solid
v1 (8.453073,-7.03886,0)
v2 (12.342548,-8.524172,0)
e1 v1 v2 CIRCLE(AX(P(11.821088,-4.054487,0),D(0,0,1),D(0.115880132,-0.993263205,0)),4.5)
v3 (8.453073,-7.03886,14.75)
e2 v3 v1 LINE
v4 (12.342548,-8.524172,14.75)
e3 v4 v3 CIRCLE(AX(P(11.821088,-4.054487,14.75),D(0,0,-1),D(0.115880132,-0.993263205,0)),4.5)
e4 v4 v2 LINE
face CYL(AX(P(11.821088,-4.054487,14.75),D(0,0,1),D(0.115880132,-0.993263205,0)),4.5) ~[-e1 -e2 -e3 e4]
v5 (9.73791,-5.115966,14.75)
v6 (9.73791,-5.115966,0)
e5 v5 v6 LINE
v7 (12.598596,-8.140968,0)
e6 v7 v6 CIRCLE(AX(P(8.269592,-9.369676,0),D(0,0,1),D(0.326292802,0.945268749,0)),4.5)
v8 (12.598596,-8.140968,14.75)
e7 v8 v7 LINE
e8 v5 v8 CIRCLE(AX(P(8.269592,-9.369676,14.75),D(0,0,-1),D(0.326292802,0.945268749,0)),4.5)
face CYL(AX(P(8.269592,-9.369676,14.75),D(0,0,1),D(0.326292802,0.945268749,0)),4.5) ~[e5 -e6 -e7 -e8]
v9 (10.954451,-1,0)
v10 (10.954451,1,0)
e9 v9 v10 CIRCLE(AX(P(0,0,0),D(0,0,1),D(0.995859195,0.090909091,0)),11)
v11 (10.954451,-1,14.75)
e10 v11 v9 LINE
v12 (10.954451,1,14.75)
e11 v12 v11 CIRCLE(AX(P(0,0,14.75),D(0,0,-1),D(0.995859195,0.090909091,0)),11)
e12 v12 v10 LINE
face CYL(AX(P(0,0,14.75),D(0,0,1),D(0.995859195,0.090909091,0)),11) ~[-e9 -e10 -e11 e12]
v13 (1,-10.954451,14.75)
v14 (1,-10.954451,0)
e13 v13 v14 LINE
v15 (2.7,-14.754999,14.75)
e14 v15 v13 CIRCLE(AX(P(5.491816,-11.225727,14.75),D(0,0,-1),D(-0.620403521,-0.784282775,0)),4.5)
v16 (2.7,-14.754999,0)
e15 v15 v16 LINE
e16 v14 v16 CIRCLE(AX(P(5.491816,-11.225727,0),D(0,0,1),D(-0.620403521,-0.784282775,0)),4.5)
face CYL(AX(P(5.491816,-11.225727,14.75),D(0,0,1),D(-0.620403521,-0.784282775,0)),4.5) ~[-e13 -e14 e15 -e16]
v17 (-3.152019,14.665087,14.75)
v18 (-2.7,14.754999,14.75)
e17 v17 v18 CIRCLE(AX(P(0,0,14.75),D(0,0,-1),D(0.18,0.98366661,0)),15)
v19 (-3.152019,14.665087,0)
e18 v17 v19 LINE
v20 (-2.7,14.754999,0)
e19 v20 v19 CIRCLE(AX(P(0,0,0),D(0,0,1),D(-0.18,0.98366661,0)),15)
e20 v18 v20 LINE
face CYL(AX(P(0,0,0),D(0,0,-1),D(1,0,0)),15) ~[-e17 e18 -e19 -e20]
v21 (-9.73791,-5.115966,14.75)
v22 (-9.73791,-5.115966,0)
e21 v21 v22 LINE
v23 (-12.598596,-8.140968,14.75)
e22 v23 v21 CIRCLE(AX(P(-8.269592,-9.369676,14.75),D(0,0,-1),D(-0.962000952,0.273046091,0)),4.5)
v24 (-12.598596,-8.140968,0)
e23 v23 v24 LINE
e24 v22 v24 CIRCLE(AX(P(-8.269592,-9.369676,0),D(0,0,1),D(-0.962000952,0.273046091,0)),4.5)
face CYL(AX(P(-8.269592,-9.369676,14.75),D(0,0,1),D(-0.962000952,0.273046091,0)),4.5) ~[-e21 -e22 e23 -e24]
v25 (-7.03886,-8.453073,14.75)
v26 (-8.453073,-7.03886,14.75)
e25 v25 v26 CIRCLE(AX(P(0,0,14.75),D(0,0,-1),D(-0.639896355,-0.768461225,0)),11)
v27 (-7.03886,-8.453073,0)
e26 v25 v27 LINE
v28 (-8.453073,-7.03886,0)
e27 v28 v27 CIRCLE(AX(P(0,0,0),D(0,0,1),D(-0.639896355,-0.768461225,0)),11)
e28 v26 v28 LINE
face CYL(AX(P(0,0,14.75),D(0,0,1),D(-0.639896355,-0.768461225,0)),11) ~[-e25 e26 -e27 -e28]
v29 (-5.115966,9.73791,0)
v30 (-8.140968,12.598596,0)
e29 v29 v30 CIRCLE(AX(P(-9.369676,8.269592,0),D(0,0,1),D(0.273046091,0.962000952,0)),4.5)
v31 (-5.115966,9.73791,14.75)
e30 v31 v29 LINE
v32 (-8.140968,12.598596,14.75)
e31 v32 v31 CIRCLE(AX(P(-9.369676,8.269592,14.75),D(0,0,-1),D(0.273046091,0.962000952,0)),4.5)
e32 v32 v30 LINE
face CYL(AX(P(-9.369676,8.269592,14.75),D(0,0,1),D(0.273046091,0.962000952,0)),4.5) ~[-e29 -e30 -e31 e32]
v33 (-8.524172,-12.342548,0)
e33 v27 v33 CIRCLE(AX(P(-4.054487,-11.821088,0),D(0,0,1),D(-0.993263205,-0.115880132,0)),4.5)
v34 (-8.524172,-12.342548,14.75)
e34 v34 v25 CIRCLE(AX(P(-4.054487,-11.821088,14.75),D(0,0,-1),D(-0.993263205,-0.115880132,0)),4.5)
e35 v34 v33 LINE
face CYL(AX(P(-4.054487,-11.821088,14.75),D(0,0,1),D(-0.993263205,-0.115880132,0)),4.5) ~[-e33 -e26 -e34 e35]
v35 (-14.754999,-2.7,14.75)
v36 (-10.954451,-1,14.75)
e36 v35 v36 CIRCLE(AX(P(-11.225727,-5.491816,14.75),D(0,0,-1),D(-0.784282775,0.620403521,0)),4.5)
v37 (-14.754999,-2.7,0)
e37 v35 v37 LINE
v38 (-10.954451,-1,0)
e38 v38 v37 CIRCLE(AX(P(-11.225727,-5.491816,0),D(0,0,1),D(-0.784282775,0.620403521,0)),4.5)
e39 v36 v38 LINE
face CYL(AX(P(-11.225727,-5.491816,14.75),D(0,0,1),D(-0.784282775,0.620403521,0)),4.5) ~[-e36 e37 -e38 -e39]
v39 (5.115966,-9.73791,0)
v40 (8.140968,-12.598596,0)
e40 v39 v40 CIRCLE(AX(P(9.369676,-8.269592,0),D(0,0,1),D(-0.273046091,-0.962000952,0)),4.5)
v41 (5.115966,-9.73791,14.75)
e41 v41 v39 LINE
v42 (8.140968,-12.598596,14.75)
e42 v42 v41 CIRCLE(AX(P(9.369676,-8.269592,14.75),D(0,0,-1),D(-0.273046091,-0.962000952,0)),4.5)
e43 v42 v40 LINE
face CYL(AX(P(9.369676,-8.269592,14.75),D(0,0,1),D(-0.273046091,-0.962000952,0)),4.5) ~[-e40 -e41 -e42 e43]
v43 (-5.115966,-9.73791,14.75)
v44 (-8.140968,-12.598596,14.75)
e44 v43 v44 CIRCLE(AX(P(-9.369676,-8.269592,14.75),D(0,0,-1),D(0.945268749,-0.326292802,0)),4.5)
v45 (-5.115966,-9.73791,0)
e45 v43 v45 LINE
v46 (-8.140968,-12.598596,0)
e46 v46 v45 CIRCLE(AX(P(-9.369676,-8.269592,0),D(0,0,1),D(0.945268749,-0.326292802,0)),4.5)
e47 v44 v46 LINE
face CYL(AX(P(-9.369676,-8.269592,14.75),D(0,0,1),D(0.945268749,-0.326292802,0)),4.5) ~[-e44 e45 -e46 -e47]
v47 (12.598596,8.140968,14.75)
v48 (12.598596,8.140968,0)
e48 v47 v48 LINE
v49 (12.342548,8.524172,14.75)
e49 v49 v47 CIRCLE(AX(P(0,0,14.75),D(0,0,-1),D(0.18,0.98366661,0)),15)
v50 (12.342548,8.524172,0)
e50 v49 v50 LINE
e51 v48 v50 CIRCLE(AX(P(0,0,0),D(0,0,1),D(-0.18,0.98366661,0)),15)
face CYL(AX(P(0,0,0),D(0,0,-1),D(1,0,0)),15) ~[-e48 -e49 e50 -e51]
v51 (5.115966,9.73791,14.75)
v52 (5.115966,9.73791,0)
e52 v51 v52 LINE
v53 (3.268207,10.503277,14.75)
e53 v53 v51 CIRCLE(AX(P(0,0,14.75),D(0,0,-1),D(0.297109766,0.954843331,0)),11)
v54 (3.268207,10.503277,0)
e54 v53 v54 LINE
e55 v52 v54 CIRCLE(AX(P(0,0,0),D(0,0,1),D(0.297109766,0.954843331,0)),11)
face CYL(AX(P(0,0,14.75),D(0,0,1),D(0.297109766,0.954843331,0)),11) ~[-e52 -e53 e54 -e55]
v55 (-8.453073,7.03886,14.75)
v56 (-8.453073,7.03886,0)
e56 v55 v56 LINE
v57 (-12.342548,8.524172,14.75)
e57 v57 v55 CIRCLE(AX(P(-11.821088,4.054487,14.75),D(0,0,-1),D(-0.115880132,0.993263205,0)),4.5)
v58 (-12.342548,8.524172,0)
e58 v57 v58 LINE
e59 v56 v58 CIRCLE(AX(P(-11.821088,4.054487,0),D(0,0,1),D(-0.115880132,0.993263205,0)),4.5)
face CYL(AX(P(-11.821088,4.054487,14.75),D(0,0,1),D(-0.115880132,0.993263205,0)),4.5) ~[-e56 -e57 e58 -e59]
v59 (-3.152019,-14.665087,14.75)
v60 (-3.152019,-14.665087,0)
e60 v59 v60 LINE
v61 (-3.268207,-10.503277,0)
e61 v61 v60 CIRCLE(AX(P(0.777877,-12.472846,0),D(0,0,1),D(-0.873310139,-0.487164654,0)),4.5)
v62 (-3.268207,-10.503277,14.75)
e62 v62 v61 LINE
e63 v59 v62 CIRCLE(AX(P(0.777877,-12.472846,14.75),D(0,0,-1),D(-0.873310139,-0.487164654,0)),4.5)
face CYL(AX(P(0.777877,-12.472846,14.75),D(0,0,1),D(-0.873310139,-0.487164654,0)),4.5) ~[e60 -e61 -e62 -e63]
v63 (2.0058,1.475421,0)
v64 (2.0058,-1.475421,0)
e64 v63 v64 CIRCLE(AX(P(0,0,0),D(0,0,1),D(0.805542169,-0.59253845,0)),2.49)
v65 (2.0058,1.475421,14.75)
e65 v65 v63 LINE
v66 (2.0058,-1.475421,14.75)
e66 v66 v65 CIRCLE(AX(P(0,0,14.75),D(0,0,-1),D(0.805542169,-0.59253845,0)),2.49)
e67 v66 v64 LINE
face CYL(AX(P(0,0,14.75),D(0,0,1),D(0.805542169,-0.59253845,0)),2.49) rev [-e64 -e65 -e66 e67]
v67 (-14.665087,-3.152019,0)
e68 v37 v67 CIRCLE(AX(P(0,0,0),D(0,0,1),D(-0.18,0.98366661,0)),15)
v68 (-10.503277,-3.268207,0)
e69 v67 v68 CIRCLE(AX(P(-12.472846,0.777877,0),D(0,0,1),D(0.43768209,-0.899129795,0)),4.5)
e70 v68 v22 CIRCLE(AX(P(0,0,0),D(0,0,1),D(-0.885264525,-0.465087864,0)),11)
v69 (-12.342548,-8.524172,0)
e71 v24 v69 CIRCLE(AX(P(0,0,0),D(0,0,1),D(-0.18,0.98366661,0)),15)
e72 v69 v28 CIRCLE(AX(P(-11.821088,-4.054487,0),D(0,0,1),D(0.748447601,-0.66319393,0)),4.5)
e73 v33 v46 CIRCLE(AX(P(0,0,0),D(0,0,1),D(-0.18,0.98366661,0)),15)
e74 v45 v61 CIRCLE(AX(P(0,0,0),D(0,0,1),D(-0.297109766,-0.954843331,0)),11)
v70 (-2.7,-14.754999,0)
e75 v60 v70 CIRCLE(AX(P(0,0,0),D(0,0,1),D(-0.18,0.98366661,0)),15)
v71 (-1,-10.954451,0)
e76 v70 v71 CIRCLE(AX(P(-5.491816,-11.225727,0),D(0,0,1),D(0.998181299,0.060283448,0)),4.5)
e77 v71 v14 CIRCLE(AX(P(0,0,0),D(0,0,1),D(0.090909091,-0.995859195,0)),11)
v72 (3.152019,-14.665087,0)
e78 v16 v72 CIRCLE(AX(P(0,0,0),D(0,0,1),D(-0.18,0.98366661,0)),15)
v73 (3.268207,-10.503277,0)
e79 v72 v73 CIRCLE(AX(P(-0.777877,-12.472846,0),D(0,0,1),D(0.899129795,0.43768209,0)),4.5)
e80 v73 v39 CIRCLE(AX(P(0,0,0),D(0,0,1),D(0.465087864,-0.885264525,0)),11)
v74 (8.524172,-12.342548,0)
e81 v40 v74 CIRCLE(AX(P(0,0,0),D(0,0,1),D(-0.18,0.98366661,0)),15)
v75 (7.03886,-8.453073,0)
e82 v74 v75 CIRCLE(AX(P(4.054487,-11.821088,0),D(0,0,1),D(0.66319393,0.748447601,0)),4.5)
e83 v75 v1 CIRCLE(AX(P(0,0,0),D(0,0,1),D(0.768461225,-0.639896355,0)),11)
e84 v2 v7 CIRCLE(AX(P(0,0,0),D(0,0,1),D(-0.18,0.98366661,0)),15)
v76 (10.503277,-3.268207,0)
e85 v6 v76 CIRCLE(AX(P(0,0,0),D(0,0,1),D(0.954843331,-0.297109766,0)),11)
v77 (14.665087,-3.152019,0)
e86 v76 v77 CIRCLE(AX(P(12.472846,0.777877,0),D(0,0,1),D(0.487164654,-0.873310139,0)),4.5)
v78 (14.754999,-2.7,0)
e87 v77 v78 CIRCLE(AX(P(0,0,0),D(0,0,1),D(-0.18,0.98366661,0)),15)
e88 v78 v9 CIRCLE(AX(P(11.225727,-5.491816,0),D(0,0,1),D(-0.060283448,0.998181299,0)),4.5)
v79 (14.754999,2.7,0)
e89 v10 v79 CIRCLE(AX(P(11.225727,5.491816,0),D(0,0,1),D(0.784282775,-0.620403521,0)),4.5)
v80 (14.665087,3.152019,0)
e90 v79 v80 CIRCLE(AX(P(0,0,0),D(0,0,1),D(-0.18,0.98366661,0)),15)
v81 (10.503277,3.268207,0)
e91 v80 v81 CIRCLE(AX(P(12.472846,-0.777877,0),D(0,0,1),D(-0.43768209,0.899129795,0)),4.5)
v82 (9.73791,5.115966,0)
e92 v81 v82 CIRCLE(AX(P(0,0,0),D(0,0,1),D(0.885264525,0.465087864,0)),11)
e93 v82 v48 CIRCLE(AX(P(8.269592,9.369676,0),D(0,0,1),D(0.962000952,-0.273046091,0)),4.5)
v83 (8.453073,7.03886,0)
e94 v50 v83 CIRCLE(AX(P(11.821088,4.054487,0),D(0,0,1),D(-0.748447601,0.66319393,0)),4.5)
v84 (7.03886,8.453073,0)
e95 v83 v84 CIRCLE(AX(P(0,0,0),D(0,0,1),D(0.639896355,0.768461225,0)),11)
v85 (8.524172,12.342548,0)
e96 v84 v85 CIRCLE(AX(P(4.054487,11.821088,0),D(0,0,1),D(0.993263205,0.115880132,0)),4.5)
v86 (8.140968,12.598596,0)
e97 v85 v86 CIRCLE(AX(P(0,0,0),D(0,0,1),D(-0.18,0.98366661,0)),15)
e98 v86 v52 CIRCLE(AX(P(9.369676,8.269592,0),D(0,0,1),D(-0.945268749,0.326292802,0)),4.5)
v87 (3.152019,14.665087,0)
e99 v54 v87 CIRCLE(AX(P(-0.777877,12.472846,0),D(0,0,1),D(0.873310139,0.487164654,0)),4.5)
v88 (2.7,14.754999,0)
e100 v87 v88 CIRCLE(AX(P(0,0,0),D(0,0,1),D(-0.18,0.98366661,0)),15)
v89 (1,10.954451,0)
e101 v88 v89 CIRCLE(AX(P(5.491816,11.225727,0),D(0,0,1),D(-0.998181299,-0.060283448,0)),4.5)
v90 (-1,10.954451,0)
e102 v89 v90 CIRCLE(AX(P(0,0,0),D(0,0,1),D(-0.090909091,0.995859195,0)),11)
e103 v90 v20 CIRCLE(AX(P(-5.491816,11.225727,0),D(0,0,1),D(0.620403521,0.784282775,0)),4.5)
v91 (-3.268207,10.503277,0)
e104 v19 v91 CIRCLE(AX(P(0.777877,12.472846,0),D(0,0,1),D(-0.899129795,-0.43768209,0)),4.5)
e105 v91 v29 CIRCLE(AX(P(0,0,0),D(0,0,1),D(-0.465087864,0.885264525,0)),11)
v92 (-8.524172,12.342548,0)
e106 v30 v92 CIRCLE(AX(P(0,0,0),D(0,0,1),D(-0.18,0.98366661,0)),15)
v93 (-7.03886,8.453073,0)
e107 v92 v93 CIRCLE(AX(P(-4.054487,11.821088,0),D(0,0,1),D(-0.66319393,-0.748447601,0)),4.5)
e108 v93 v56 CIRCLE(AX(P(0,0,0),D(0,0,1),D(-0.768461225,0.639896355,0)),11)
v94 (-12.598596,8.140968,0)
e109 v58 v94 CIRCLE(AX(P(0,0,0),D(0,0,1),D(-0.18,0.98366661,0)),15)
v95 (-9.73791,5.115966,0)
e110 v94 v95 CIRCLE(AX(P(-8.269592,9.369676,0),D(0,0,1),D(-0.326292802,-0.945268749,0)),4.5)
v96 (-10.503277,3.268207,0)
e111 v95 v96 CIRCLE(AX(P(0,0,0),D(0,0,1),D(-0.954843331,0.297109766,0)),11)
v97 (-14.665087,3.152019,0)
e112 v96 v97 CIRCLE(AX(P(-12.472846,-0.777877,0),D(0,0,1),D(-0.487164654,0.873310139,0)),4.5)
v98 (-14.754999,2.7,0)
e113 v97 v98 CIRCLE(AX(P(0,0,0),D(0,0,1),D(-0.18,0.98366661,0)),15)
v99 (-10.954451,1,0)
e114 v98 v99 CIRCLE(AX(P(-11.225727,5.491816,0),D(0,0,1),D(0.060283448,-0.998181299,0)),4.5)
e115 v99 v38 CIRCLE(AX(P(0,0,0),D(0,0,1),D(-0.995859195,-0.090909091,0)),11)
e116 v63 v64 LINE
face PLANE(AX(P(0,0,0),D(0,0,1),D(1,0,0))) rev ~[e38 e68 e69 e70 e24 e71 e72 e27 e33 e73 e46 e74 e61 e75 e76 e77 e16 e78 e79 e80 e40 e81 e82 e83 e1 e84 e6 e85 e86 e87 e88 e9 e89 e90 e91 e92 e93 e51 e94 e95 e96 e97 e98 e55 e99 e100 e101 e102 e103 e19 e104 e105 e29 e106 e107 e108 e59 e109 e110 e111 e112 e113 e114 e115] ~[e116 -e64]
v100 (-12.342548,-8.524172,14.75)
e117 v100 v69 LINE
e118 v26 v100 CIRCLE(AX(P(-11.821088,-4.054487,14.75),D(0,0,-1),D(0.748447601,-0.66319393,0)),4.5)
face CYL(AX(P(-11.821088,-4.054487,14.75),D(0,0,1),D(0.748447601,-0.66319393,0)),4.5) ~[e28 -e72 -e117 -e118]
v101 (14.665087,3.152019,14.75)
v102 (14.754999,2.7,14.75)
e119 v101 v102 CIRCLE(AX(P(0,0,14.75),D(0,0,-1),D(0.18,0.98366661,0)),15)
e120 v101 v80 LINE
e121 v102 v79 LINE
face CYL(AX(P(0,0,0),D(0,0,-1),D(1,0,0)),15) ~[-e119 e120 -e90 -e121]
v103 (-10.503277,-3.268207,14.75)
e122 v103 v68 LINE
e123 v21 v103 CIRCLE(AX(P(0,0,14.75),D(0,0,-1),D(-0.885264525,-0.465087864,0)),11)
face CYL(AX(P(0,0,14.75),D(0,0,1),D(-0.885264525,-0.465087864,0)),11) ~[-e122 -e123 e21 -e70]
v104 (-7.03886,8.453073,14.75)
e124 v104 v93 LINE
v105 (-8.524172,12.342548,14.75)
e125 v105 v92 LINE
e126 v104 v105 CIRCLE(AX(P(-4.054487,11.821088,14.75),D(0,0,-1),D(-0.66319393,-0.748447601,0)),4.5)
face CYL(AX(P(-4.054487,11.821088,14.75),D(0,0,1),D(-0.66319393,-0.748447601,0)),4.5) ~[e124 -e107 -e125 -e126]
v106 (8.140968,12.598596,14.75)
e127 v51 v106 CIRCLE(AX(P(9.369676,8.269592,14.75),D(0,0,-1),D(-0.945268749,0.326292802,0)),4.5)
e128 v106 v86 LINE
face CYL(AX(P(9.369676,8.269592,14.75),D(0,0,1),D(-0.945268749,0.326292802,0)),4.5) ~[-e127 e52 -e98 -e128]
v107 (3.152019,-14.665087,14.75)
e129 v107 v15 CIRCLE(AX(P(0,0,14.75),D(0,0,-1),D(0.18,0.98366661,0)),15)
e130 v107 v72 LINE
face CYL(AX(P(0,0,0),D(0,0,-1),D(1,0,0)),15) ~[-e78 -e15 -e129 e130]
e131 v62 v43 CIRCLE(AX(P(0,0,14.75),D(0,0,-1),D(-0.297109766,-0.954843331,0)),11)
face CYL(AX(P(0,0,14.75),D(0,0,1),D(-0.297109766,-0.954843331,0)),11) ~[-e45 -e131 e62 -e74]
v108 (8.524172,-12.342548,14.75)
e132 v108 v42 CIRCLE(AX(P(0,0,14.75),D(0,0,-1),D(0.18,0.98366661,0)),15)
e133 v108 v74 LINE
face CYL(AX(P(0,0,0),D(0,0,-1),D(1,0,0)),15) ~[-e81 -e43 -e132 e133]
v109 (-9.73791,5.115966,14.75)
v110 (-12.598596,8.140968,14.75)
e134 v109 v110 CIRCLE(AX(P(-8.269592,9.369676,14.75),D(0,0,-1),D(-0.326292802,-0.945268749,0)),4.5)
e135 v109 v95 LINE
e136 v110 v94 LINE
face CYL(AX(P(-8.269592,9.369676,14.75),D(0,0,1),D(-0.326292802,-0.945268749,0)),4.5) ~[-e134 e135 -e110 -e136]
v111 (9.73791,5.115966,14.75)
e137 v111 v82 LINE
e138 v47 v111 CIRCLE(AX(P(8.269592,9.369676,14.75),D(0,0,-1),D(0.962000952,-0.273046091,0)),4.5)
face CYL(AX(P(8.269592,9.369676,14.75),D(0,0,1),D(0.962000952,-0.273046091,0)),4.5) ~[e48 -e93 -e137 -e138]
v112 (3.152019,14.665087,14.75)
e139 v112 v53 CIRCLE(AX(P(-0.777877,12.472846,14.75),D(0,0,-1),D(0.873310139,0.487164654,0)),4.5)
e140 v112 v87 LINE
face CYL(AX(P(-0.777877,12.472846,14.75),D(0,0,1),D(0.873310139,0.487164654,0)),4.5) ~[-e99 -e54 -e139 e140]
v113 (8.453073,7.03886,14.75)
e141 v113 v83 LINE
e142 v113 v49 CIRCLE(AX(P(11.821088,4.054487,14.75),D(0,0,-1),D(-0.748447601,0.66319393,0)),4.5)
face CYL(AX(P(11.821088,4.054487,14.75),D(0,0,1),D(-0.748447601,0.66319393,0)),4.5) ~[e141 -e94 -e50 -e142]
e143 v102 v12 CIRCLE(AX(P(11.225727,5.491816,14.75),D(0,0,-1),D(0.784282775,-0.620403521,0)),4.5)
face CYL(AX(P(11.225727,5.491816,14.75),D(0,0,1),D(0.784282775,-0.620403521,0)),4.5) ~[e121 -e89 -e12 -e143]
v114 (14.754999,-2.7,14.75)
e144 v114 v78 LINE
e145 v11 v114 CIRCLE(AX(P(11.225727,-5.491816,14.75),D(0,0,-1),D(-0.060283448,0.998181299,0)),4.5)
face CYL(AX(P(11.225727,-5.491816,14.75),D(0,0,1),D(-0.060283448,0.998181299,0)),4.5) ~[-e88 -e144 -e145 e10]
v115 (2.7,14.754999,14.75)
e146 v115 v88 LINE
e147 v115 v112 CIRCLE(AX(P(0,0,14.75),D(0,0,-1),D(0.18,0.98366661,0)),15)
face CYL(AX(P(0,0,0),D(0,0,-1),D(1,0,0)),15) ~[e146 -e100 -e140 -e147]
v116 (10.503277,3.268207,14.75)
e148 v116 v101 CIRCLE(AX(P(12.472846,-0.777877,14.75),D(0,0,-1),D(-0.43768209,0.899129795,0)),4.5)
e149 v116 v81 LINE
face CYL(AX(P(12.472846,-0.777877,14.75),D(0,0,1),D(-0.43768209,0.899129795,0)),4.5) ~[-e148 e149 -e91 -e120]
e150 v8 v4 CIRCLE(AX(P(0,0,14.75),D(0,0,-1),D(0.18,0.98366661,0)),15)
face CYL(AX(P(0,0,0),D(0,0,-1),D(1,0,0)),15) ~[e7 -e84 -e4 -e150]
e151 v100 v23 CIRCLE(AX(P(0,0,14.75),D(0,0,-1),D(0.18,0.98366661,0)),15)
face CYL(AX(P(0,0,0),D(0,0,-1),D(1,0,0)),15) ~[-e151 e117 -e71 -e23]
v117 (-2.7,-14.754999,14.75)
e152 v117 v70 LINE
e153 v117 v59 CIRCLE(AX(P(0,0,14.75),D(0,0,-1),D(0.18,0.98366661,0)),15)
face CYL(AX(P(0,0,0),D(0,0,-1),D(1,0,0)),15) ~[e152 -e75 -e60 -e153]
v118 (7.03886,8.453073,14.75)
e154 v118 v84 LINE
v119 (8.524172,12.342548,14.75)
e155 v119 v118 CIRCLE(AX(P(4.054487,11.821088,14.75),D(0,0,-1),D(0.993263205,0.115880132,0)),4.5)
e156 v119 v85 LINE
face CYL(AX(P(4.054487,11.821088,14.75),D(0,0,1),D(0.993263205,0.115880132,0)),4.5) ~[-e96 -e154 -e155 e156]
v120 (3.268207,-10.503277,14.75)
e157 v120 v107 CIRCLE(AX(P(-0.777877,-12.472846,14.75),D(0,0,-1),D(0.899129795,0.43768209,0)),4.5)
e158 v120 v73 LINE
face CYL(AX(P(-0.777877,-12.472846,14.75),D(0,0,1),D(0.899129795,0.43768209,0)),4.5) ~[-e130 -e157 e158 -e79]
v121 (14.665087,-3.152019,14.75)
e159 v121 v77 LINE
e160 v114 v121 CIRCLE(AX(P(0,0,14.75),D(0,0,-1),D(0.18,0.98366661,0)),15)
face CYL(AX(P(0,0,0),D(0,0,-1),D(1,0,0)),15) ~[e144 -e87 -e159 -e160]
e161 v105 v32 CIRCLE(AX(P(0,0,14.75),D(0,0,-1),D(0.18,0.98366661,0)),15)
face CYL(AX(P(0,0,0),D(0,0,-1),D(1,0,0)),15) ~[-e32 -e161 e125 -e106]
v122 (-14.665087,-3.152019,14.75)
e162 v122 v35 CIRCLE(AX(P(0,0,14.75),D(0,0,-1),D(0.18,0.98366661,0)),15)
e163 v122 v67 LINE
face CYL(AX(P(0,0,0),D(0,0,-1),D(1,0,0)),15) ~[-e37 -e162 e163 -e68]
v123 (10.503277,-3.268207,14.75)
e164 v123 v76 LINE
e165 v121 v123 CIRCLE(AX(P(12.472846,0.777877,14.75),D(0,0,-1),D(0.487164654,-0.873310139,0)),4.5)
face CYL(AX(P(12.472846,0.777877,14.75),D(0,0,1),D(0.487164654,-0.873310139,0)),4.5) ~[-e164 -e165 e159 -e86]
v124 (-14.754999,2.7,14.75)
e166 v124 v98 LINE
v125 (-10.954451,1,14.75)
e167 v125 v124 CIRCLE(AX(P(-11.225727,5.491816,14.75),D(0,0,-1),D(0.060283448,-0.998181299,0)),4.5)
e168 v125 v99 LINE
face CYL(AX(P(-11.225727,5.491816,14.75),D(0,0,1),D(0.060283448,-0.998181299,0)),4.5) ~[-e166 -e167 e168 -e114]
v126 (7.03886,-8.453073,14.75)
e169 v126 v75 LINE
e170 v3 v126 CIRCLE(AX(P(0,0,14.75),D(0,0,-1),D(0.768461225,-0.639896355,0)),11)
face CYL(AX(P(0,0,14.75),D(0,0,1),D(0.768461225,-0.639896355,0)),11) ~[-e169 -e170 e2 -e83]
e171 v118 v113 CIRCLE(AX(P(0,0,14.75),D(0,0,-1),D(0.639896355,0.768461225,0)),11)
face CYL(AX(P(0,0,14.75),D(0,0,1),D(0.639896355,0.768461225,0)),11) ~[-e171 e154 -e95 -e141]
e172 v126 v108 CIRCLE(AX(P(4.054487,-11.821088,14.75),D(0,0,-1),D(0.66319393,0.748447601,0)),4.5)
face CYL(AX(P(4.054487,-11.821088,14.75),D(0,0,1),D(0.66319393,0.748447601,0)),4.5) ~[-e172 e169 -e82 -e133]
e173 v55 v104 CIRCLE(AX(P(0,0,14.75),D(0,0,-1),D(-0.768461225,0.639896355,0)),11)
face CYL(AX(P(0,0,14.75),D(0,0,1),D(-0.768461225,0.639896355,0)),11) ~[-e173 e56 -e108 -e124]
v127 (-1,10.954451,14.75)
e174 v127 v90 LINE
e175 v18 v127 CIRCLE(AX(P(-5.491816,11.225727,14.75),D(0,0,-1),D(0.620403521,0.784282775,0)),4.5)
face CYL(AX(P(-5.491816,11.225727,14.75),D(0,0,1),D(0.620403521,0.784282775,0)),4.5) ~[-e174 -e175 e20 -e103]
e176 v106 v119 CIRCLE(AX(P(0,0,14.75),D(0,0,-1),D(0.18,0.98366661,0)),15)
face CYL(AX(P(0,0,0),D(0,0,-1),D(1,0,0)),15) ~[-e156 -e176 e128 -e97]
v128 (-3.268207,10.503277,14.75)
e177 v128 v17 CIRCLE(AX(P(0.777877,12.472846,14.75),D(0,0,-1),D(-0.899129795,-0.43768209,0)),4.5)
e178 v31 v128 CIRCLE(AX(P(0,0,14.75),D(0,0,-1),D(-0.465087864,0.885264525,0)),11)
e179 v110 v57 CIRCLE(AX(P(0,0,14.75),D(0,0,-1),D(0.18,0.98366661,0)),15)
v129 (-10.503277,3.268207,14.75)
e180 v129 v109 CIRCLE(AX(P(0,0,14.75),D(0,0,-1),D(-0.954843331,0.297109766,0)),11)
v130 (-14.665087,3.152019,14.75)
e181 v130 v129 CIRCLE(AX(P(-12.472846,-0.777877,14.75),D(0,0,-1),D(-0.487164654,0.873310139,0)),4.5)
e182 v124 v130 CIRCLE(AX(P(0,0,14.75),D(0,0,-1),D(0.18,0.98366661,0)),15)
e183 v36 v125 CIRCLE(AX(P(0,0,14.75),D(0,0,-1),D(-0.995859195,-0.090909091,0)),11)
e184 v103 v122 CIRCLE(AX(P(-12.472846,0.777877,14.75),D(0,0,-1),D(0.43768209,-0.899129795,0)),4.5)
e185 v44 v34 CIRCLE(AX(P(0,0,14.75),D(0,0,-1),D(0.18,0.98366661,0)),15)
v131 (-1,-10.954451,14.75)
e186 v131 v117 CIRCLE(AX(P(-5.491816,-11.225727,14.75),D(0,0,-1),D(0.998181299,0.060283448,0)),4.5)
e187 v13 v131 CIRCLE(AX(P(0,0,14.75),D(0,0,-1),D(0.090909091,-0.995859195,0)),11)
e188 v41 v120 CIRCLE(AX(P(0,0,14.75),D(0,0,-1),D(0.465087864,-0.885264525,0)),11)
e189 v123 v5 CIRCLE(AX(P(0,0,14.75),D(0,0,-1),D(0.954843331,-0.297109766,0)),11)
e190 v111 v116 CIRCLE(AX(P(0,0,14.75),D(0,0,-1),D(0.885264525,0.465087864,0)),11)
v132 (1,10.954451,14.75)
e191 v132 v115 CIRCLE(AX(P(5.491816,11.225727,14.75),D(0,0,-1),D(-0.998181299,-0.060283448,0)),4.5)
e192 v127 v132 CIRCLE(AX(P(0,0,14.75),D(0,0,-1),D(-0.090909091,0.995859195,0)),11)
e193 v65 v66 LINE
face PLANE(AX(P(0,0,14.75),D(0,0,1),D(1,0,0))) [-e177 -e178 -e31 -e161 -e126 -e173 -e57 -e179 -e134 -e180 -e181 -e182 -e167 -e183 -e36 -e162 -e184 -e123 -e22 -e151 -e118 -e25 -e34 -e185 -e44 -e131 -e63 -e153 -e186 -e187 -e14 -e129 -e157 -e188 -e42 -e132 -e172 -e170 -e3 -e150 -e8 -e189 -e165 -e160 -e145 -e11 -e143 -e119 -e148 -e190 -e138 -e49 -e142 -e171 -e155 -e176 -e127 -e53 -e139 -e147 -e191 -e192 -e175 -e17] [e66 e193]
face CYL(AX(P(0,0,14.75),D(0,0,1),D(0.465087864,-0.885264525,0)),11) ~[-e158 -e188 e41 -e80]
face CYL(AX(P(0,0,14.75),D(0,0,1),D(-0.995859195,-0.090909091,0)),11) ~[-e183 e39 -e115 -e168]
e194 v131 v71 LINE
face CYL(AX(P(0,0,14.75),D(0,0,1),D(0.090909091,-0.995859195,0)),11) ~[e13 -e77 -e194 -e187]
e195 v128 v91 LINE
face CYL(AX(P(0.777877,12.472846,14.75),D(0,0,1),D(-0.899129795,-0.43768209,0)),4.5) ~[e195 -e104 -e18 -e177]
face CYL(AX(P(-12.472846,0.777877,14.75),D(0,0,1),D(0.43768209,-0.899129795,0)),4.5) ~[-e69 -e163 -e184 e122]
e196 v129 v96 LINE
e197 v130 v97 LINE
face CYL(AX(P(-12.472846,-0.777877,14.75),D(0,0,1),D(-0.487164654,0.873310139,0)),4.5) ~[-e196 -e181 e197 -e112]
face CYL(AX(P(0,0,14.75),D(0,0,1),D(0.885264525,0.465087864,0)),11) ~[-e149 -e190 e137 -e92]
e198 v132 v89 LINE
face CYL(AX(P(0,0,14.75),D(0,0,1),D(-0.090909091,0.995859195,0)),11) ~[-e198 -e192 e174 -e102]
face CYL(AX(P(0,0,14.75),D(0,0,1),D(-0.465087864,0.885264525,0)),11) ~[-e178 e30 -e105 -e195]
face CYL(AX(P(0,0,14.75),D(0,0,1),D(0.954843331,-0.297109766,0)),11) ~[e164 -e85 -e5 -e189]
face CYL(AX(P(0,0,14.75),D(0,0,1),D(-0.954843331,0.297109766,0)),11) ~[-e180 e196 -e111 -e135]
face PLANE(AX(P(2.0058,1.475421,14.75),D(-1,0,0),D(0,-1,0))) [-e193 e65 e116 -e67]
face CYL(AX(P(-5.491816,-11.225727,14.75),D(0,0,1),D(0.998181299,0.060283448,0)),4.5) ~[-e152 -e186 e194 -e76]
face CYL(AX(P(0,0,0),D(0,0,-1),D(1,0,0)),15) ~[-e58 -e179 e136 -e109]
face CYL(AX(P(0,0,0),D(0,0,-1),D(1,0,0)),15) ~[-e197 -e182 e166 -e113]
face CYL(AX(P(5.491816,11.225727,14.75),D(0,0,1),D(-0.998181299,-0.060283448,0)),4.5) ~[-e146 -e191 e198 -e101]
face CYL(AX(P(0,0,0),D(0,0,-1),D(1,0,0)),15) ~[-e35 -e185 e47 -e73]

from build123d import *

# Parameters (mm, degrees)
SKETCH1_R           = 15
BOSS_EXTRUDE1_DEPTH = 14.75
CUT_EXTRUDE1_DEPTH  = 15.75
CIRPATTERN1_COUNT   = 16
CUT_EXTRUDE2_DEPTH  = 15.75


with BuildPart() as part:
    # Sketch1 → Boss-Extrude1 (new body)
    with BuildSketch(Plane.XY):
        Circle(SKETCH1_R)
    extrude(amount=BOSS_EXTRUDE1_DEPTH)

    # Sketch2 → Cut-Extrude1 (cut, through all)
    with BuildSketch(Plane.XY.offset(14.75)):
        with BuildLine():
            ThreePointArc((-1, 10.95445115), (0, 11), (1, 10.95445115))
            ThreePointArc((1, 10.95445115), (1.384034944, 13.063153145), (2.7, 14.754999153))
            ThreePointArc((2.7, 14.754999153), (0, 15), (-2.7, 14.754999153))
            ThreePointArc((-2.7, 14.754999153), (-1.384034944, 13.063153145), (-1, 10.95445115))
        make_face()
    cut_extrude1 = extrude(amount=-CUT_EXTRUDE1_DEPTH, mode=Mode.SUBTRACT)

    # CirPattern1: Cut-Extrude1 ×16 about axis
    cirpattern1_axis = Axis((0, 0, 0), (0, 0, 1))
    for i in range(1, CIRPATTERN1_COUNT):
        add(cut_extrude1.rotate(cirpattern1_axis, i * 360 / CIRPATTERN1_COUNT), mode=Mode.SUBTRACT)

    # Sketch3 → Cut-Extrude2 (cut, through all)
    with BuildSketch(Plane.XY.offset(14.75)):
        with BuildLine():
            Line((2.0058, 1.47542074), (2.0058, -1.47542074))
            ThreePointArc((2.0058, -1.47542074), (-2.49, 0), (2.0058, 1.47542074))
        make_face()
    extrude(amount=-CUT_EXTRUDE2_DEPTH, mode=Mode.SUBTRACT)


solid = part.part
